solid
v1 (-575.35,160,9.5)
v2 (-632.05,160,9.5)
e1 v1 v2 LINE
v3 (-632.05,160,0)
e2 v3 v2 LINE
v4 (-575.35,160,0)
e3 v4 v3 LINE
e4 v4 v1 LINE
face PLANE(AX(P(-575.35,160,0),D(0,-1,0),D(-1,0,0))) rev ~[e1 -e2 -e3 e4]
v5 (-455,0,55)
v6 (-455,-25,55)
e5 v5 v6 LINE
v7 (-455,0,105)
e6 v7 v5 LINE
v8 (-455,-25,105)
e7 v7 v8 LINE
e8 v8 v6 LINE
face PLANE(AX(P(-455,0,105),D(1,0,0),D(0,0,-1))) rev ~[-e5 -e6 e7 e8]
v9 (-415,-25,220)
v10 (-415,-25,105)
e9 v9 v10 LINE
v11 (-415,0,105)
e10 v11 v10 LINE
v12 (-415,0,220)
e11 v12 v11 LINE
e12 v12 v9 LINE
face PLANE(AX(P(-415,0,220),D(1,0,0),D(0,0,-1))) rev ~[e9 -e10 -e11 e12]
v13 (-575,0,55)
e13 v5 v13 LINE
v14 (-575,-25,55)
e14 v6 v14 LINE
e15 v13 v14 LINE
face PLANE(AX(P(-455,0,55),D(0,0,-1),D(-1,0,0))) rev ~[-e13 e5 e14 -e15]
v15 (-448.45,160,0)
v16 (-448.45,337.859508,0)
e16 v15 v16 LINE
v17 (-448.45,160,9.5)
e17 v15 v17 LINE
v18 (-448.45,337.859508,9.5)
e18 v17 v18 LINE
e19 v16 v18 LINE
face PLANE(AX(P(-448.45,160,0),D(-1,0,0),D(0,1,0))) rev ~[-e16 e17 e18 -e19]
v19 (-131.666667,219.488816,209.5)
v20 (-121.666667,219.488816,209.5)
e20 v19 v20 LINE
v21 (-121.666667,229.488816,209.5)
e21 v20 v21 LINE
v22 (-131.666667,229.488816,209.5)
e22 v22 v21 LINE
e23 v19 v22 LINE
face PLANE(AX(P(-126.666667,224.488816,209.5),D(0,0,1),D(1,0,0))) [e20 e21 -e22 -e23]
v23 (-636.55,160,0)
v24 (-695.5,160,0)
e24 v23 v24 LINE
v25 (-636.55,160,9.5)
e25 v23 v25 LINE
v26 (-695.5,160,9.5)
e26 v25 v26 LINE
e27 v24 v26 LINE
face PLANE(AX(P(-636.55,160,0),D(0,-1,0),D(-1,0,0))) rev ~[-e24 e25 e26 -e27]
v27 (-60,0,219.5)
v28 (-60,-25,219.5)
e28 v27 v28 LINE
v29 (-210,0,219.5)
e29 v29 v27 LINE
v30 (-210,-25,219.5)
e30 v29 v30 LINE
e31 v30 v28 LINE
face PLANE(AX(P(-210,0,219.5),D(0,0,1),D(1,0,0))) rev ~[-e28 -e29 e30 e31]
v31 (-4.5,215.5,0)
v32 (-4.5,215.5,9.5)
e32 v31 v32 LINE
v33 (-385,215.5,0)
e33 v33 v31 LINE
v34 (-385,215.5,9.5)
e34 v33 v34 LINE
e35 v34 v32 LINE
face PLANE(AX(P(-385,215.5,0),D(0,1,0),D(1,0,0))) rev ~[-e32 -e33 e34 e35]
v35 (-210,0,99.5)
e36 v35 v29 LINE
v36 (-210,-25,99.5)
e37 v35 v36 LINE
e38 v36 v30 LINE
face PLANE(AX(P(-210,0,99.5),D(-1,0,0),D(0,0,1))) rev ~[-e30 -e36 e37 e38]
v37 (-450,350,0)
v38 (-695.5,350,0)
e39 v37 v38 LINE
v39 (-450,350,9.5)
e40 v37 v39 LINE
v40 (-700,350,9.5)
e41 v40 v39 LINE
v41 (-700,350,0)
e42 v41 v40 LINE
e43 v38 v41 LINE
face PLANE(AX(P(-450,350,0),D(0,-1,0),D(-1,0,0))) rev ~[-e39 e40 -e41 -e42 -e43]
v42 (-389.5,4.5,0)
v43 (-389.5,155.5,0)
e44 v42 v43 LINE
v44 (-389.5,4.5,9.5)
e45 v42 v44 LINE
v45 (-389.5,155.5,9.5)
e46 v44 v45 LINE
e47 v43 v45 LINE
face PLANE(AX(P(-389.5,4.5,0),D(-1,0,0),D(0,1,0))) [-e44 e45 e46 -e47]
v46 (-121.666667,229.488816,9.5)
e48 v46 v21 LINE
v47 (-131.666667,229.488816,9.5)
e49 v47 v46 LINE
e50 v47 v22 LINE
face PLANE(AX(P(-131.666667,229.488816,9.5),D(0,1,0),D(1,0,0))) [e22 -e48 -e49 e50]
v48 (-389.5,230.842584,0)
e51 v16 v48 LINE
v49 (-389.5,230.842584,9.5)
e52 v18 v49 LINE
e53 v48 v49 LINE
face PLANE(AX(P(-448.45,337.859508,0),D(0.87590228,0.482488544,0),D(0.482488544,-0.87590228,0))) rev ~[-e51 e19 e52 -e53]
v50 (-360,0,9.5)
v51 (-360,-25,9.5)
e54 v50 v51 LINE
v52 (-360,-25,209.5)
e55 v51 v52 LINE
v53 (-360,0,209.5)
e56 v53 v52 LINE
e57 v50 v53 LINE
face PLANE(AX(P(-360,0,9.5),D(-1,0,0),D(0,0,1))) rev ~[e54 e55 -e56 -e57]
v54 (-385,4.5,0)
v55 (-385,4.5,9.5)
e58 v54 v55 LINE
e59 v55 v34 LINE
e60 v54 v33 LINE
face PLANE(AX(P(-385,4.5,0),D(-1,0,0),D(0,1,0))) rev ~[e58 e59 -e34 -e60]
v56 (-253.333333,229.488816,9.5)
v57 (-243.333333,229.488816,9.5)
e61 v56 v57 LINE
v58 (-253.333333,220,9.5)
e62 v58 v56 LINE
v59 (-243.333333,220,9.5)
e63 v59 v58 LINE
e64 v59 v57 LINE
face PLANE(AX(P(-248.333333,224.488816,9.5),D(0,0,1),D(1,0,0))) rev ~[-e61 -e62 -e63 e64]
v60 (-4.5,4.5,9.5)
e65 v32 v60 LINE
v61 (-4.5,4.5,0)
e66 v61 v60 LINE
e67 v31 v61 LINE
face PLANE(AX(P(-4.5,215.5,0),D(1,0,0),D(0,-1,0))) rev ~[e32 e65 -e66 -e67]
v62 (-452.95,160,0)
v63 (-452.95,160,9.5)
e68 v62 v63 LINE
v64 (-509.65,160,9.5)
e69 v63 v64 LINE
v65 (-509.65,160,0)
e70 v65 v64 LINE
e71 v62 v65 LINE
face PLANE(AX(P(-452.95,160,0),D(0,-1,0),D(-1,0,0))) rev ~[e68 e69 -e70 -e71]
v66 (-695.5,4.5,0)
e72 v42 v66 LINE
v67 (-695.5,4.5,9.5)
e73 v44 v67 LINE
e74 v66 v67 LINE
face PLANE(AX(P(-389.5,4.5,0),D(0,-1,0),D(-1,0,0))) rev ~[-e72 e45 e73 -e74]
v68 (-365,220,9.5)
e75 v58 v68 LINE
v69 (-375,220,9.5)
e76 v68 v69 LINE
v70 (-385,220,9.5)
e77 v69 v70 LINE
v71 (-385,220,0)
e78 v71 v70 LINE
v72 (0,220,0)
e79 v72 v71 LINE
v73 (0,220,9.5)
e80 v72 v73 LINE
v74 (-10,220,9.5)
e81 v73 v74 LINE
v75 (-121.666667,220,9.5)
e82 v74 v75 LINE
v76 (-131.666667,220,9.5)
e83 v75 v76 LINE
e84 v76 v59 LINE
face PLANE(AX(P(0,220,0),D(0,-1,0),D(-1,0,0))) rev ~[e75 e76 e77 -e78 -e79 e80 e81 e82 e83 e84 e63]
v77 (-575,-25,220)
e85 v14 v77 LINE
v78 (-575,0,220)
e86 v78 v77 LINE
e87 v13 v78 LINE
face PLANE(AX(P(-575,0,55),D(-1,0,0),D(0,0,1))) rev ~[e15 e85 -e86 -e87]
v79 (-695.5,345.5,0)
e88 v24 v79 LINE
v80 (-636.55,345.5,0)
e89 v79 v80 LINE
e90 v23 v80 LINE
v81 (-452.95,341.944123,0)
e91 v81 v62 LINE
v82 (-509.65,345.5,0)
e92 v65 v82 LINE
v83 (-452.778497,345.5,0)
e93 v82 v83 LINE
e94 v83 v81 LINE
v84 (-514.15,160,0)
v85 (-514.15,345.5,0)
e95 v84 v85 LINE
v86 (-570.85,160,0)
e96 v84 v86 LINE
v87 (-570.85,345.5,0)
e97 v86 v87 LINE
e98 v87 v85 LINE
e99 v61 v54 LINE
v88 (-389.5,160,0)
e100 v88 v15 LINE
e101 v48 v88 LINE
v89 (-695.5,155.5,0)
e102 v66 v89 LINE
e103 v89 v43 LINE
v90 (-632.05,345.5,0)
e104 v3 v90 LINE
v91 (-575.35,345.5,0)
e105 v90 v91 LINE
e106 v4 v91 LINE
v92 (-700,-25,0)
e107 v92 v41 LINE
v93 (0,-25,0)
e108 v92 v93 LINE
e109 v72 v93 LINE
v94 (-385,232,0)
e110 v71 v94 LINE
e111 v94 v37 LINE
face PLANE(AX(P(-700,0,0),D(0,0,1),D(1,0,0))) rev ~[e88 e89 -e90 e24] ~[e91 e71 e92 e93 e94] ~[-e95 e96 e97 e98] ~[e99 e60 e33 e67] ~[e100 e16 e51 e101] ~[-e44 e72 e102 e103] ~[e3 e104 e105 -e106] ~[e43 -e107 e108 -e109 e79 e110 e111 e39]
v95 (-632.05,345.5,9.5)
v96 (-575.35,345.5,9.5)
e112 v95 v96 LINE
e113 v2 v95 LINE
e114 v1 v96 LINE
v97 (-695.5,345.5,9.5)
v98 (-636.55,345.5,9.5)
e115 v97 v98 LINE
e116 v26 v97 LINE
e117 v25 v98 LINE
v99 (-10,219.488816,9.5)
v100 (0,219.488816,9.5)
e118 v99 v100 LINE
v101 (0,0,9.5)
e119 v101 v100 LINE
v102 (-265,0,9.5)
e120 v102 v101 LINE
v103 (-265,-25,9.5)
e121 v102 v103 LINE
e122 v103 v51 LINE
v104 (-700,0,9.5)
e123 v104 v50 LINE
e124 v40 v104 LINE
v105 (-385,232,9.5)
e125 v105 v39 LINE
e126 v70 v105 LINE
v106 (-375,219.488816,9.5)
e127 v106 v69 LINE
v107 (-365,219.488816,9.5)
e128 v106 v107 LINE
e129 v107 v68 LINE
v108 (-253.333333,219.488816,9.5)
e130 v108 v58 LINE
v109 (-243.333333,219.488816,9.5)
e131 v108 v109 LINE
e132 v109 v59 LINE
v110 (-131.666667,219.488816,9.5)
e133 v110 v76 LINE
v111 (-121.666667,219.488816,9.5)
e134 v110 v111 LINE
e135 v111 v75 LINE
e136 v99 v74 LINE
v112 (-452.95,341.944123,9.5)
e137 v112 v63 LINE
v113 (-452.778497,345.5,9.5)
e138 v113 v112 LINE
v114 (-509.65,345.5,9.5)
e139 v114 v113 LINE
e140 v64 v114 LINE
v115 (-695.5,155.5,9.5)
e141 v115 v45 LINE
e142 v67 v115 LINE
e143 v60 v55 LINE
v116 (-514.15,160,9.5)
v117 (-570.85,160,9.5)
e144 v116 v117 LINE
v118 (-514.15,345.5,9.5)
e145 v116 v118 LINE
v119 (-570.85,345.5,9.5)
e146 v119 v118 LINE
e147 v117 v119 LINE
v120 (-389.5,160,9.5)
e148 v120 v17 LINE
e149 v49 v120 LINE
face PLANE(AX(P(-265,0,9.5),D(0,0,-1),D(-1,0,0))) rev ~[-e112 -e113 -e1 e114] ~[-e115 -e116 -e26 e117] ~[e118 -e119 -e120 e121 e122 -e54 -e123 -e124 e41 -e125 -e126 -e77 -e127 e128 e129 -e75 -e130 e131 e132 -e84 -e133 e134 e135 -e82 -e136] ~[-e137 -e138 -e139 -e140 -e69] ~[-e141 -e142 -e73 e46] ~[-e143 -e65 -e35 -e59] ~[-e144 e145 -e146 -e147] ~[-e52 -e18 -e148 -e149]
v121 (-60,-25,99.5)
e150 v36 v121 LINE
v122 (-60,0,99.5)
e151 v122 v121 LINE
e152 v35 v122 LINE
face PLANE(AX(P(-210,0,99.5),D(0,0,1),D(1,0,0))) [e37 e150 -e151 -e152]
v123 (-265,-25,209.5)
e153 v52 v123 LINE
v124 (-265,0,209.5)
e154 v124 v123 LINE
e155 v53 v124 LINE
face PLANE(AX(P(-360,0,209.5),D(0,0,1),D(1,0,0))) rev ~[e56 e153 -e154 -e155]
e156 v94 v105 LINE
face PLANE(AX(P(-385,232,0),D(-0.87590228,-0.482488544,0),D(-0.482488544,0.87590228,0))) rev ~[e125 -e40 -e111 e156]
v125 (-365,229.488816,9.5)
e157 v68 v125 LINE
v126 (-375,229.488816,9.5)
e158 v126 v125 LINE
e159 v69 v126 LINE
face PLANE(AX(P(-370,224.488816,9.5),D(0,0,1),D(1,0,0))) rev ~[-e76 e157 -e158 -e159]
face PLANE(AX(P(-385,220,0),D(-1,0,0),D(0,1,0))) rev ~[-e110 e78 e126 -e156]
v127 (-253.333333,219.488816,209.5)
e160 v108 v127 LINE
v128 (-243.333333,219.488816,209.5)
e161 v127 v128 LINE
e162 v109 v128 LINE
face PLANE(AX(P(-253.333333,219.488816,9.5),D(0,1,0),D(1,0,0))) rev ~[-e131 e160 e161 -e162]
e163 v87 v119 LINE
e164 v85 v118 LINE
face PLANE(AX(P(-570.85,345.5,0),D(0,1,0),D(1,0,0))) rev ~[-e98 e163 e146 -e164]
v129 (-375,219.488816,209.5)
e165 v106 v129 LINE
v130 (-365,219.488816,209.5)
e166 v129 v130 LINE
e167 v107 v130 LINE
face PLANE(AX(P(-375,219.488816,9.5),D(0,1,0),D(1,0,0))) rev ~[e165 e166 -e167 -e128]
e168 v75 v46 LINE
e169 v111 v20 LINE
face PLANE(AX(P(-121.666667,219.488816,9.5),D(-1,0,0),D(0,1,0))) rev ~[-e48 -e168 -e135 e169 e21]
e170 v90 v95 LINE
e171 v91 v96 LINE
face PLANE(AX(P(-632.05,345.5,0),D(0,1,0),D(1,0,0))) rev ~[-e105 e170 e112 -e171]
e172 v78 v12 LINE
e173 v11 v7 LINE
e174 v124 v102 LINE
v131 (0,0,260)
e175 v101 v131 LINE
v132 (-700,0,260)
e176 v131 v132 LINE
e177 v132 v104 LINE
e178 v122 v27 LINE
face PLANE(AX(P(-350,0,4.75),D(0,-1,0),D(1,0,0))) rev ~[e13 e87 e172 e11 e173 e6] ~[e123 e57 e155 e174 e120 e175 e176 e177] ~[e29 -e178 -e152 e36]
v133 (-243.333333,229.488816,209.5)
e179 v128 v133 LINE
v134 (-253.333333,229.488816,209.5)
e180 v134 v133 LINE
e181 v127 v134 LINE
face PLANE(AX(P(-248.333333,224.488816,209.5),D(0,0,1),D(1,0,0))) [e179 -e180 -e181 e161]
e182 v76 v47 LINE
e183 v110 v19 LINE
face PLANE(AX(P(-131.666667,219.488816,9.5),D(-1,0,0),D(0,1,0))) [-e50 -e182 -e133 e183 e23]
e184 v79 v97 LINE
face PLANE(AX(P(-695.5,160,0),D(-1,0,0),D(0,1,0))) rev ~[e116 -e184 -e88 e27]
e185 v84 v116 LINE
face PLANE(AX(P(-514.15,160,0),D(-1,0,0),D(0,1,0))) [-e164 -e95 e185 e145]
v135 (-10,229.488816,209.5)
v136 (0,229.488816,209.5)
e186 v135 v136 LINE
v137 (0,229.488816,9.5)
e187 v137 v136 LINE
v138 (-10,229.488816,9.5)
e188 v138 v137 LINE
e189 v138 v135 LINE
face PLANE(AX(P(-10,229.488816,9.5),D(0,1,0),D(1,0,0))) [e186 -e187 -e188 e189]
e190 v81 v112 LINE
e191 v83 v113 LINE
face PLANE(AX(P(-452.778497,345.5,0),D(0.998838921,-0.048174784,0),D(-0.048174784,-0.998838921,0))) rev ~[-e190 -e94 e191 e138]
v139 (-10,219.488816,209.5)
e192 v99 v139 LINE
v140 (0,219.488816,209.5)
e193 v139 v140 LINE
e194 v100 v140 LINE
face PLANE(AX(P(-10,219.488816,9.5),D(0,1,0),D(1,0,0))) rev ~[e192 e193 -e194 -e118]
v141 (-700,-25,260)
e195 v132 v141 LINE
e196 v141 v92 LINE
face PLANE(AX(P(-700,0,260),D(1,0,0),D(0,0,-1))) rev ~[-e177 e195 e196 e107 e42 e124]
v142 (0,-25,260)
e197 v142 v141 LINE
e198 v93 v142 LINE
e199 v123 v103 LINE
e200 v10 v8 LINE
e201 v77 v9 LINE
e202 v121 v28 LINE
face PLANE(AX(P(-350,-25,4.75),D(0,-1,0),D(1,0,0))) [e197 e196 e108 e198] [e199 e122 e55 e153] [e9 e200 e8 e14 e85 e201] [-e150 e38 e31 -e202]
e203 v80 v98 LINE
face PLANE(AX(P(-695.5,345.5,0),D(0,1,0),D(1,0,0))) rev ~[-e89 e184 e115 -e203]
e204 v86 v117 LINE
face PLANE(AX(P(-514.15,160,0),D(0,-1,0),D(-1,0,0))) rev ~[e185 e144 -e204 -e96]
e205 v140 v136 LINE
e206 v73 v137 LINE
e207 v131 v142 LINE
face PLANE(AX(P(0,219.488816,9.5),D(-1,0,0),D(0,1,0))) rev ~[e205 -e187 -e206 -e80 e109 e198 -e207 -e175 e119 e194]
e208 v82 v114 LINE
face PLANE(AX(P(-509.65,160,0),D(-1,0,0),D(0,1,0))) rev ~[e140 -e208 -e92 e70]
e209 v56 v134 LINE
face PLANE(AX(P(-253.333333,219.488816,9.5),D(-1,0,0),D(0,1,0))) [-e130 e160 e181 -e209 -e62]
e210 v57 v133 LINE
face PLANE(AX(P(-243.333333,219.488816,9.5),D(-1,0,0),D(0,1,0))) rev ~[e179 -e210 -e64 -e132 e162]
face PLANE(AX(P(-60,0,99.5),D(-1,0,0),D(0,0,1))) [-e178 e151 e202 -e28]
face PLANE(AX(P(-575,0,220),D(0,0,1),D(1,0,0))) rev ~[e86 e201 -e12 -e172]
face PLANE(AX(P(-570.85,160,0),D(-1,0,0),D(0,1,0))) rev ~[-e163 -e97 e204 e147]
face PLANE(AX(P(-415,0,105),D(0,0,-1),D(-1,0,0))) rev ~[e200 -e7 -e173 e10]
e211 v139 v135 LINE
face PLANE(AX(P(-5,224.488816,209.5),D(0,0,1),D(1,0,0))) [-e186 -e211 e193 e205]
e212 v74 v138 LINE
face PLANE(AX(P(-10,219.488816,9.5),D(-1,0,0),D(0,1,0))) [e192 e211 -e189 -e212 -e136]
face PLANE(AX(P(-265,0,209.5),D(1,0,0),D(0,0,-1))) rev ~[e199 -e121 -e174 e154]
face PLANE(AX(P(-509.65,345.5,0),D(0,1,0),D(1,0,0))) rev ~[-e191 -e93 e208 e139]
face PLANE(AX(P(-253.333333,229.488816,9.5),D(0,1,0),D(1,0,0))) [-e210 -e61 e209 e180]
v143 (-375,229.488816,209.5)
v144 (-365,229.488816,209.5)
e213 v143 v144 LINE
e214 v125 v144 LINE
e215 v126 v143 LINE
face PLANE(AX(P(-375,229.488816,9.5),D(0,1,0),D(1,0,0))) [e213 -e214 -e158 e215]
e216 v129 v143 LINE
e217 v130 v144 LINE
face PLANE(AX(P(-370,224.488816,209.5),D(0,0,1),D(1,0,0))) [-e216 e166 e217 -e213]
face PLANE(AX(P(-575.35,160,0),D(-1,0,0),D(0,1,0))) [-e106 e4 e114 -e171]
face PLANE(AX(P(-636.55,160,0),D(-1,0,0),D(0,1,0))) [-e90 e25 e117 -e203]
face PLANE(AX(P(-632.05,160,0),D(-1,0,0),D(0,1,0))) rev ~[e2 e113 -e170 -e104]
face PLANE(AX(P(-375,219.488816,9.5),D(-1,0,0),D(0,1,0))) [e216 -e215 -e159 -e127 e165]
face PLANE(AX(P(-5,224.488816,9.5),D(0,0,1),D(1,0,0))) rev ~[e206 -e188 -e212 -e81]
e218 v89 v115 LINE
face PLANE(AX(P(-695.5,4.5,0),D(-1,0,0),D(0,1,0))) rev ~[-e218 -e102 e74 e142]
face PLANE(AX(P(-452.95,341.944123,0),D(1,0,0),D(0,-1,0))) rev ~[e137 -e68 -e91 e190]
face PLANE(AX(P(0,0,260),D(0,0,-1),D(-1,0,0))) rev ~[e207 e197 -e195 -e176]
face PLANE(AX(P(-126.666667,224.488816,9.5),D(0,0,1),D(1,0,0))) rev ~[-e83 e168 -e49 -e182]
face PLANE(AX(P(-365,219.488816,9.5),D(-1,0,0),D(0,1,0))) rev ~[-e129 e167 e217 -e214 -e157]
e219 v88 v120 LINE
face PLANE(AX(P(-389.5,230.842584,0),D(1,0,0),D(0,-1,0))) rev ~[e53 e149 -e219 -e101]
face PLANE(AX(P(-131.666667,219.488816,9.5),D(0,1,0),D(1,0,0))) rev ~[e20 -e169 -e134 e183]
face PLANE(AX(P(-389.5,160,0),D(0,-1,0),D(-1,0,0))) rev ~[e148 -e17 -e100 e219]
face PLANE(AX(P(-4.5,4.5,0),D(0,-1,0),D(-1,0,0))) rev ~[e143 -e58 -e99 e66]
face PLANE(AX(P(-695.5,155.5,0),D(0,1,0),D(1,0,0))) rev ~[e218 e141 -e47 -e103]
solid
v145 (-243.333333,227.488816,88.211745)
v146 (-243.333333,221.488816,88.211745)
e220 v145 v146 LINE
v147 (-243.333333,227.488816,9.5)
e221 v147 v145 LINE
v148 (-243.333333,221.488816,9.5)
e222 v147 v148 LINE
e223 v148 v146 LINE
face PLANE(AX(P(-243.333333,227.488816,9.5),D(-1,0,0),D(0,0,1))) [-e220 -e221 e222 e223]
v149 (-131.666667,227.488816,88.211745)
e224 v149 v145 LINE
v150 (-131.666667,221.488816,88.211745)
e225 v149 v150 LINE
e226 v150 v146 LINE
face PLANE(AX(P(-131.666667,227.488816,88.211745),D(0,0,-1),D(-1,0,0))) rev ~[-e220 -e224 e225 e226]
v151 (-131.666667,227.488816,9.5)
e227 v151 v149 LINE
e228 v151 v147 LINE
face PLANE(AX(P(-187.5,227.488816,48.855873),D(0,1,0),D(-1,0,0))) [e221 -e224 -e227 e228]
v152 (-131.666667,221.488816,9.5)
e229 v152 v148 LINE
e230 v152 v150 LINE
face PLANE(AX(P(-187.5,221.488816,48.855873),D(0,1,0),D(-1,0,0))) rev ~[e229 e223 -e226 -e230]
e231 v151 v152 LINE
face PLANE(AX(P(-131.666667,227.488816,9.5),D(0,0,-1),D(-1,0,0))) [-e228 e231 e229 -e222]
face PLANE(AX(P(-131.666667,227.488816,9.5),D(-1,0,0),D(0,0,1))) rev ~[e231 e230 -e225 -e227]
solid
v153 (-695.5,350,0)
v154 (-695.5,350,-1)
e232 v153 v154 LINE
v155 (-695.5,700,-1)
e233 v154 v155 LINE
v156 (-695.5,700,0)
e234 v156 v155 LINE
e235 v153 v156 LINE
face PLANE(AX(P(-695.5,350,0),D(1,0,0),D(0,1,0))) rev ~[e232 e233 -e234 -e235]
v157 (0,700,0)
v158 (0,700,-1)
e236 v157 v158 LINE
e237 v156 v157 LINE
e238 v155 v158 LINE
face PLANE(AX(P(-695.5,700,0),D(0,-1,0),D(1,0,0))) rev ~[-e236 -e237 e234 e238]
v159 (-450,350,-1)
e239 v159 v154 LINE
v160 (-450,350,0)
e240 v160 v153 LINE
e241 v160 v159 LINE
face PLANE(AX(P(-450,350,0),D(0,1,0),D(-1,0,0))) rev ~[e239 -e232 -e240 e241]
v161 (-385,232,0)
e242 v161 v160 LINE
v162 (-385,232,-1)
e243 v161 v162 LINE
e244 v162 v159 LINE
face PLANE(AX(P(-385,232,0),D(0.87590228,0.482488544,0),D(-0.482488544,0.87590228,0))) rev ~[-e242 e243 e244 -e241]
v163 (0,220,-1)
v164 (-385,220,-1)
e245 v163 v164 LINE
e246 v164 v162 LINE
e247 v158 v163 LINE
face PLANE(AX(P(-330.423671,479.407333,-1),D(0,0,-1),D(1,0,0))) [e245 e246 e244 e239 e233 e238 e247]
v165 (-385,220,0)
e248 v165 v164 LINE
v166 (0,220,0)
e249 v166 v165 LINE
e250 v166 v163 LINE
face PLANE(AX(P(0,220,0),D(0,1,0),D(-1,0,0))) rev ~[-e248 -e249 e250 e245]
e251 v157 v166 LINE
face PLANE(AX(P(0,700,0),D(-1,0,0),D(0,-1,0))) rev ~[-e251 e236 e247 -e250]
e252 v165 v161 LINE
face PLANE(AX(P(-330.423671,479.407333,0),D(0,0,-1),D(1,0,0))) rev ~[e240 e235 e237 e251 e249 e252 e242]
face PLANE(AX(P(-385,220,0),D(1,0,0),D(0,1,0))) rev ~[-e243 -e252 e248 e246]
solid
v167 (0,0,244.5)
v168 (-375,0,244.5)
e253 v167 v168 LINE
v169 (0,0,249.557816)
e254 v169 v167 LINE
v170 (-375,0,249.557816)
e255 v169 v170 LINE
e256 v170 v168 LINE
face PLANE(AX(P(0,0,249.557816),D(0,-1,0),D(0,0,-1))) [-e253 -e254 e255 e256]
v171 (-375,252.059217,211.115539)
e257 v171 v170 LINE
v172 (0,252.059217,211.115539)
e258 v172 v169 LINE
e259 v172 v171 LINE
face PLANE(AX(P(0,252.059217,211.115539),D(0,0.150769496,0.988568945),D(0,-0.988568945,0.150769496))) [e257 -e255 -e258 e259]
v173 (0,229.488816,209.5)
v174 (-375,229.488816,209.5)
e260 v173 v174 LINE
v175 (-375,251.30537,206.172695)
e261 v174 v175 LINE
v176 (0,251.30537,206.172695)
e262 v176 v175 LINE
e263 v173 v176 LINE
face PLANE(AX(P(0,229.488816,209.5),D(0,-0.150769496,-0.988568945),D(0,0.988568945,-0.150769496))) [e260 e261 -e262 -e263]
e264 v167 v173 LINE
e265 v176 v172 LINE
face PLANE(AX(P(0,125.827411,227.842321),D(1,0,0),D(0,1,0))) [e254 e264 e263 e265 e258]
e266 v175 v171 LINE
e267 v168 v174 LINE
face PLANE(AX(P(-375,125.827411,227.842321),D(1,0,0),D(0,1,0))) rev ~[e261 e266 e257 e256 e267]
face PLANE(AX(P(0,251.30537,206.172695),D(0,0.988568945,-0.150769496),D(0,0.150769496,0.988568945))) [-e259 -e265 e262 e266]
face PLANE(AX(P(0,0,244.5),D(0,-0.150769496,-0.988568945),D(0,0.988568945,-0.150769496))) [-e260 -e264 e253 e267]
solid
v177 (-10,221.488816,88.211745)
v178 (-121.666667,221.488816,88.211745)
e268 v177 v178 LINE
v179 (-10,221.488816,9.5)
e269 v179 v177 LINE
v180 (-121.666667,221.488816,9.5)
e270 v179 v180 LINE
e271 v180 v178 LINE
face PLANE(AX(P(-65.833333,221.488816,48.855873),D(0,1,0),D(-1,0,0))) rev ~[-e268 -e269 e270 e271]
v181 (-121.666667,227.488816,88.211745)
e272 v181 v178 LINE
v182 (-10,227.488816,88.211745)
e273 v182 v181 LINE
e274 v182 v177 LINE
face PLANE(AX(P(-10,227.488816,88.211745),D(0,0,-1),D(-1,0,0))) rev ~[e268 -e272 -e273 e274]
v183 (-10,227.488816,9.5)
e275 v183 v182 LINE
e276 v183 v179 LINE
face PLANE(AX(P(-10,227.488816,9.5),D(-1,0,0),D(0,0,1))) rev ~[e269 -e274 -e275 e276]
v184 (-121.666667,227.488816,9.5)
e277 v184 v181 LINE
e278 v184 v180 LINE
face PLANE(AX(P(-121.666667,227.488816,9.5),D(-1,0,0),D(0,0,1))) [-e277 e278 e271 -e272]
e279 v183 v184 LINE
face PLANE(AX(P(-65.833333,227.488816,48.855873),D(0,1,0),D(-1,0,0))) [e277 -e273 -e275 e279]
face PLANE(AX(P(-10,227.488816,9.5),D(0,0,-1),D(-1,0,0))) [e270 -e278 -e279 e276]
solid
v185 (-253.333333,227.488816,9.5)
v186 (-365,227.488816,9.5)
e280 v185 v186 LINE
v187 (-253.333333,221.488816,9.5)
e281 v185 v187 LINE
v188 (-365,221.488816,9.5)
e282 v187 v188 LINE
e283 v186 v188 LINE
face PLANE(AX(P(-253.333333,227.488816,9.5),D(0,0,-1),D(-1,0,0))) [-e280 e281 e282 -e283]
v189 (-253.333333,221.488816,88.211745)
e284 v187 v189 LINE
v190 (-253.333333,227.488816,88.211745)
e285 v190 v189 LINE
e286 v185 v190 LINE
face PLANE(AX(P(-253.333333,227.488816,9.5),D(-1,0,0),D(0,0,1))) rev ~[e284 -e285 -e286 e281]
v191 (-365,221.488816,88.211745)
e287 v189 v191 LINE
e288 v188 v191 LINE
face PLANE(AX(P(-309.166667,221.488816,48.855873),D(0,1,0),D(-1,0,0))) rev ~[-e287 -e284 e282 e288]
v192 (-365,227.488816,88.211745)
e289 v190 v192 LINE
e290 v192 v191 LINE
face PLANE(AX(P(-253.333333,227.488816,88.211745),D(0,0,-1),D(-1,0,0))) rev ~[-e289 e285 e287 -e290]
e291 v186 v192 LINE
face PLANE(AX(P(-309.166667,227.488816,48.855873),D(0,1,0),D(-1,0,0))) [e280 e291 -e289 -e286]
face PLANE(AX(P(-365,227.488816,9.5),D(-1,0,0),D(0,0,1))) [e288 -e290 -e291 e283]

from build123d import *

# Parameters (mm, degrees)
F0_W      = 4.5
F0_H      = 4.5
F0_W_2    = 306
F0_H_2    = 151
F0_W_3    = 380.5
F0_H_3    = 185.5
F1_DEPTH  = 9.5
F2_W      = 150
F2_H      = 120
F3_DEPTH  = 25
F5_DEPTH  = 1
F8_DEPTH  = 260.001
F9_W      = 10
F9_H      = 10
F10_DEPTH = 200
F12_DEPTH = 375
F14_START = -2
F13_W     = 111.6666666667
F13_H     = 78.7117450237
F14_DEPTH = 6


with BuildPart() as f1:
    # F0 (on Top) → F1 (new body)
    with BuildSketch(Plane.XY):
        with Locations((-697.75, 2.25)):
            Rectangle(F0_W, F0_H)
        with Locations((-2.25, 217.75)):
            Rectangle(F0_W, F0_H)
        Polygon((-385, 0), (0, 0), (0, 215.5), (-4.5, 215.5), (-4.5, 4.5), (-385, 4.5), align=None)
        with Locations((-387.25, 2.25)):
            Rectangle(F0_W, F0_H)
        with Locations((-542.5, 2.25)):
            Rectangle(F0_W_2, F0_H)
        with Locations((-697.75, 80)):
            Rectangle(F0_W, F0_H_2)
        with Locations((-697.75, 157.75)):
            Rectangle(F0_W, F0_H)
        with Locations((-194.75, 217.75)):
            Rectangle(F0_W_3, F0_H)
        Polygon((-452.95, 160), (-448.45, 160), (-448.45, 337.8595075378), (-452.6587458478, 345.5), (-452.7784972623, 345.5), (-452.95, 341.9441229224), align=None)
        Polygon((-385, 160), (-385, 215.5), (-385, 220), (-385, 232), (-450, 350), (-700, 350), (-700, 160), (-695.5, 160), (-695.5, 345.5), (-636.55, 345.5), (-632.05, 345.5), (-575.35, 345.5), (-570.85, 345.5), (-514.15, 345.5), (-509.65, 345.5), (-452.7784972623, 345.5), (-452.6587458478, 345.5), (-448.45, 337.8595075378), (-389.5, 230.8425844609), (-389.5, 160), align=None)
        with Locations((-511.9, 252.75)):
            Rectangle(F0_W, F0_H_3)
        with Locations((-573.1, 252.75)):
            Rectangle(F0_W, F0_H_3)
        with Locations((-634.3, 252.75)):
            Rectangle(F0_W, F0_H_3)
        Polygon((-695.5, 155.5), (-389.5, 155.5), (-389.5, 160), (-448.45, 160), (-452.95, 160), (-509.65, 160), (-514.15, 160), (-570.85, 160), (-575.35, 160), (-632.05, 160), (-636.55, 160), (-695.5, 160), align=None)
        with Locations((-387.25, 157.75)):
            Rectangle(F0_W, F0_H)
        with Locations((-387.25, 80)):
            Rectangle(F0_W, F0_H_2)
    extrude(amount=F1_DEPTH)

    # F2 (on face) → F3 (join)
    with BuildSketch(Plane.XZ):
        Polygon((-700, 0), (0, 0), (0, 9.5), (-265, 9.5), (-360, 9.5), (-700, 9.5), align=None)
        Polygon((-265, 9.5), (0, 9.5), (0, 260), (-700, 260), (-700, 9.5), (-360, 9.5), (-360, 209.5), (-265, 209.5), align=None)
        Polygon((-455, 220), (-415, 220), (-415, 105), (-455, 105), (-455, 55), (-575, 55), (-575, 220), align=None, mode=Mode.SUBTRACT)
        with Locations((-135, 159.5)):
            Rectangle(F2_W, F2_H, mode=Mode.SUBTRACT)
    extrude(amount=F3_DEPTH)

    # F4 (on face) → F5 (join)
    with BuildSketch(Plane(origin=(0, 0, 0), x_dir=(1, 0, 0), z_dir=(0, 0, -1))):
        Polygon((0, -700), (0, -220), (-385, -220), (-385, -232), (-450, -350), (-695.5, -350), (-695.5, -700), align=None)
    extrude(amount=F5_DEPTH)

    # F7 (on face) → F8 (cut, through all)
    with BuildSketch(Plane.XY):
        Polygon((-695.5, 350), (-450, 350), (-385, 232), (-385, 220), (0, 220), (0, 700), (-695.5, 700), align=None)
    extrude(amount=F8_DEPTH, mode=Mode.SUBTRACT)

    # F9 (on face) → F10 (join)
    with BuildSketch(Plane.XY.offset(9.5)):
        with Locations((-5, 224.4888156652)):
            Rectangle(F9_W, F9_H)
        with Locations((-370, 224.4888156652)):
            Rectangle(F9_W, F9_H)
        with Locations((-248.3333333333, 224.4888156652)):
            Rectangle(F9_W, F9_H)
        with Locations((-126.6666666667, 224.4888156652)):
            Rectangle(F9_W, F9_H)
    extrude(amount=F10_DEPTH)


with BuildPart() as f12:
    # F11 (on face) → F12 (new body, through all)
    with BuildSketch(Plane.YZ):
        Polygon((251.3053696533, 206.1726945391), (252.0592171334, 211.1155392642), (0, 249.5578161747), (0, 244.5), (229.4888156652, 209.5), align=None)
    extrude(amount=-F12_DEPTH)


with BuildPart() as f14:
    # F13 (on face) → F14 (new body)
    with BuildSketch(Plane(origin=(0, 229.4888156652, 0), x_dir=(-1, 0, 0), z_dir=(0, 1, 0)).offset(F14_START)):
        with Locations((65.8333333333, 48.8558725119)):
            Rectangle(F13_W, F13_H)
    extrude(amount=-F14_DEPTH)


with BuildPart() as f14b:
    # F13 (on face) → F14, piece 2 (new body)
    with BuildSketch(Plane(origin=(0, 229.4888156652, 0), x_dir=(-1, 0, 0), z_dir=(0, 1, 0)).offset(F14_START)):
        with Locations((187.5, 48.8558725119)):
            Rectangle(F13_W, F13_H)
    extrude(amount=-F14_DEPTH)


with BuildPart() as f14c:
    # F13 (on face) → F14, piece 3 (new body)
    with BuildSketch(Plane(origin=(0, 229.4888156652, 0), x_dir=(-1, 0, 0), z_dir=(0, 1, 0)).offset(F14_START)):
        with Locations((309.1666666667, 48.8558725119)):
            Rectangle(F13_W, F13_H)
    extrude(amount=-F14_DEPTH)


solid = Compound([f1.part, f12.part, f14.part, f14b.part, f14c.part])
